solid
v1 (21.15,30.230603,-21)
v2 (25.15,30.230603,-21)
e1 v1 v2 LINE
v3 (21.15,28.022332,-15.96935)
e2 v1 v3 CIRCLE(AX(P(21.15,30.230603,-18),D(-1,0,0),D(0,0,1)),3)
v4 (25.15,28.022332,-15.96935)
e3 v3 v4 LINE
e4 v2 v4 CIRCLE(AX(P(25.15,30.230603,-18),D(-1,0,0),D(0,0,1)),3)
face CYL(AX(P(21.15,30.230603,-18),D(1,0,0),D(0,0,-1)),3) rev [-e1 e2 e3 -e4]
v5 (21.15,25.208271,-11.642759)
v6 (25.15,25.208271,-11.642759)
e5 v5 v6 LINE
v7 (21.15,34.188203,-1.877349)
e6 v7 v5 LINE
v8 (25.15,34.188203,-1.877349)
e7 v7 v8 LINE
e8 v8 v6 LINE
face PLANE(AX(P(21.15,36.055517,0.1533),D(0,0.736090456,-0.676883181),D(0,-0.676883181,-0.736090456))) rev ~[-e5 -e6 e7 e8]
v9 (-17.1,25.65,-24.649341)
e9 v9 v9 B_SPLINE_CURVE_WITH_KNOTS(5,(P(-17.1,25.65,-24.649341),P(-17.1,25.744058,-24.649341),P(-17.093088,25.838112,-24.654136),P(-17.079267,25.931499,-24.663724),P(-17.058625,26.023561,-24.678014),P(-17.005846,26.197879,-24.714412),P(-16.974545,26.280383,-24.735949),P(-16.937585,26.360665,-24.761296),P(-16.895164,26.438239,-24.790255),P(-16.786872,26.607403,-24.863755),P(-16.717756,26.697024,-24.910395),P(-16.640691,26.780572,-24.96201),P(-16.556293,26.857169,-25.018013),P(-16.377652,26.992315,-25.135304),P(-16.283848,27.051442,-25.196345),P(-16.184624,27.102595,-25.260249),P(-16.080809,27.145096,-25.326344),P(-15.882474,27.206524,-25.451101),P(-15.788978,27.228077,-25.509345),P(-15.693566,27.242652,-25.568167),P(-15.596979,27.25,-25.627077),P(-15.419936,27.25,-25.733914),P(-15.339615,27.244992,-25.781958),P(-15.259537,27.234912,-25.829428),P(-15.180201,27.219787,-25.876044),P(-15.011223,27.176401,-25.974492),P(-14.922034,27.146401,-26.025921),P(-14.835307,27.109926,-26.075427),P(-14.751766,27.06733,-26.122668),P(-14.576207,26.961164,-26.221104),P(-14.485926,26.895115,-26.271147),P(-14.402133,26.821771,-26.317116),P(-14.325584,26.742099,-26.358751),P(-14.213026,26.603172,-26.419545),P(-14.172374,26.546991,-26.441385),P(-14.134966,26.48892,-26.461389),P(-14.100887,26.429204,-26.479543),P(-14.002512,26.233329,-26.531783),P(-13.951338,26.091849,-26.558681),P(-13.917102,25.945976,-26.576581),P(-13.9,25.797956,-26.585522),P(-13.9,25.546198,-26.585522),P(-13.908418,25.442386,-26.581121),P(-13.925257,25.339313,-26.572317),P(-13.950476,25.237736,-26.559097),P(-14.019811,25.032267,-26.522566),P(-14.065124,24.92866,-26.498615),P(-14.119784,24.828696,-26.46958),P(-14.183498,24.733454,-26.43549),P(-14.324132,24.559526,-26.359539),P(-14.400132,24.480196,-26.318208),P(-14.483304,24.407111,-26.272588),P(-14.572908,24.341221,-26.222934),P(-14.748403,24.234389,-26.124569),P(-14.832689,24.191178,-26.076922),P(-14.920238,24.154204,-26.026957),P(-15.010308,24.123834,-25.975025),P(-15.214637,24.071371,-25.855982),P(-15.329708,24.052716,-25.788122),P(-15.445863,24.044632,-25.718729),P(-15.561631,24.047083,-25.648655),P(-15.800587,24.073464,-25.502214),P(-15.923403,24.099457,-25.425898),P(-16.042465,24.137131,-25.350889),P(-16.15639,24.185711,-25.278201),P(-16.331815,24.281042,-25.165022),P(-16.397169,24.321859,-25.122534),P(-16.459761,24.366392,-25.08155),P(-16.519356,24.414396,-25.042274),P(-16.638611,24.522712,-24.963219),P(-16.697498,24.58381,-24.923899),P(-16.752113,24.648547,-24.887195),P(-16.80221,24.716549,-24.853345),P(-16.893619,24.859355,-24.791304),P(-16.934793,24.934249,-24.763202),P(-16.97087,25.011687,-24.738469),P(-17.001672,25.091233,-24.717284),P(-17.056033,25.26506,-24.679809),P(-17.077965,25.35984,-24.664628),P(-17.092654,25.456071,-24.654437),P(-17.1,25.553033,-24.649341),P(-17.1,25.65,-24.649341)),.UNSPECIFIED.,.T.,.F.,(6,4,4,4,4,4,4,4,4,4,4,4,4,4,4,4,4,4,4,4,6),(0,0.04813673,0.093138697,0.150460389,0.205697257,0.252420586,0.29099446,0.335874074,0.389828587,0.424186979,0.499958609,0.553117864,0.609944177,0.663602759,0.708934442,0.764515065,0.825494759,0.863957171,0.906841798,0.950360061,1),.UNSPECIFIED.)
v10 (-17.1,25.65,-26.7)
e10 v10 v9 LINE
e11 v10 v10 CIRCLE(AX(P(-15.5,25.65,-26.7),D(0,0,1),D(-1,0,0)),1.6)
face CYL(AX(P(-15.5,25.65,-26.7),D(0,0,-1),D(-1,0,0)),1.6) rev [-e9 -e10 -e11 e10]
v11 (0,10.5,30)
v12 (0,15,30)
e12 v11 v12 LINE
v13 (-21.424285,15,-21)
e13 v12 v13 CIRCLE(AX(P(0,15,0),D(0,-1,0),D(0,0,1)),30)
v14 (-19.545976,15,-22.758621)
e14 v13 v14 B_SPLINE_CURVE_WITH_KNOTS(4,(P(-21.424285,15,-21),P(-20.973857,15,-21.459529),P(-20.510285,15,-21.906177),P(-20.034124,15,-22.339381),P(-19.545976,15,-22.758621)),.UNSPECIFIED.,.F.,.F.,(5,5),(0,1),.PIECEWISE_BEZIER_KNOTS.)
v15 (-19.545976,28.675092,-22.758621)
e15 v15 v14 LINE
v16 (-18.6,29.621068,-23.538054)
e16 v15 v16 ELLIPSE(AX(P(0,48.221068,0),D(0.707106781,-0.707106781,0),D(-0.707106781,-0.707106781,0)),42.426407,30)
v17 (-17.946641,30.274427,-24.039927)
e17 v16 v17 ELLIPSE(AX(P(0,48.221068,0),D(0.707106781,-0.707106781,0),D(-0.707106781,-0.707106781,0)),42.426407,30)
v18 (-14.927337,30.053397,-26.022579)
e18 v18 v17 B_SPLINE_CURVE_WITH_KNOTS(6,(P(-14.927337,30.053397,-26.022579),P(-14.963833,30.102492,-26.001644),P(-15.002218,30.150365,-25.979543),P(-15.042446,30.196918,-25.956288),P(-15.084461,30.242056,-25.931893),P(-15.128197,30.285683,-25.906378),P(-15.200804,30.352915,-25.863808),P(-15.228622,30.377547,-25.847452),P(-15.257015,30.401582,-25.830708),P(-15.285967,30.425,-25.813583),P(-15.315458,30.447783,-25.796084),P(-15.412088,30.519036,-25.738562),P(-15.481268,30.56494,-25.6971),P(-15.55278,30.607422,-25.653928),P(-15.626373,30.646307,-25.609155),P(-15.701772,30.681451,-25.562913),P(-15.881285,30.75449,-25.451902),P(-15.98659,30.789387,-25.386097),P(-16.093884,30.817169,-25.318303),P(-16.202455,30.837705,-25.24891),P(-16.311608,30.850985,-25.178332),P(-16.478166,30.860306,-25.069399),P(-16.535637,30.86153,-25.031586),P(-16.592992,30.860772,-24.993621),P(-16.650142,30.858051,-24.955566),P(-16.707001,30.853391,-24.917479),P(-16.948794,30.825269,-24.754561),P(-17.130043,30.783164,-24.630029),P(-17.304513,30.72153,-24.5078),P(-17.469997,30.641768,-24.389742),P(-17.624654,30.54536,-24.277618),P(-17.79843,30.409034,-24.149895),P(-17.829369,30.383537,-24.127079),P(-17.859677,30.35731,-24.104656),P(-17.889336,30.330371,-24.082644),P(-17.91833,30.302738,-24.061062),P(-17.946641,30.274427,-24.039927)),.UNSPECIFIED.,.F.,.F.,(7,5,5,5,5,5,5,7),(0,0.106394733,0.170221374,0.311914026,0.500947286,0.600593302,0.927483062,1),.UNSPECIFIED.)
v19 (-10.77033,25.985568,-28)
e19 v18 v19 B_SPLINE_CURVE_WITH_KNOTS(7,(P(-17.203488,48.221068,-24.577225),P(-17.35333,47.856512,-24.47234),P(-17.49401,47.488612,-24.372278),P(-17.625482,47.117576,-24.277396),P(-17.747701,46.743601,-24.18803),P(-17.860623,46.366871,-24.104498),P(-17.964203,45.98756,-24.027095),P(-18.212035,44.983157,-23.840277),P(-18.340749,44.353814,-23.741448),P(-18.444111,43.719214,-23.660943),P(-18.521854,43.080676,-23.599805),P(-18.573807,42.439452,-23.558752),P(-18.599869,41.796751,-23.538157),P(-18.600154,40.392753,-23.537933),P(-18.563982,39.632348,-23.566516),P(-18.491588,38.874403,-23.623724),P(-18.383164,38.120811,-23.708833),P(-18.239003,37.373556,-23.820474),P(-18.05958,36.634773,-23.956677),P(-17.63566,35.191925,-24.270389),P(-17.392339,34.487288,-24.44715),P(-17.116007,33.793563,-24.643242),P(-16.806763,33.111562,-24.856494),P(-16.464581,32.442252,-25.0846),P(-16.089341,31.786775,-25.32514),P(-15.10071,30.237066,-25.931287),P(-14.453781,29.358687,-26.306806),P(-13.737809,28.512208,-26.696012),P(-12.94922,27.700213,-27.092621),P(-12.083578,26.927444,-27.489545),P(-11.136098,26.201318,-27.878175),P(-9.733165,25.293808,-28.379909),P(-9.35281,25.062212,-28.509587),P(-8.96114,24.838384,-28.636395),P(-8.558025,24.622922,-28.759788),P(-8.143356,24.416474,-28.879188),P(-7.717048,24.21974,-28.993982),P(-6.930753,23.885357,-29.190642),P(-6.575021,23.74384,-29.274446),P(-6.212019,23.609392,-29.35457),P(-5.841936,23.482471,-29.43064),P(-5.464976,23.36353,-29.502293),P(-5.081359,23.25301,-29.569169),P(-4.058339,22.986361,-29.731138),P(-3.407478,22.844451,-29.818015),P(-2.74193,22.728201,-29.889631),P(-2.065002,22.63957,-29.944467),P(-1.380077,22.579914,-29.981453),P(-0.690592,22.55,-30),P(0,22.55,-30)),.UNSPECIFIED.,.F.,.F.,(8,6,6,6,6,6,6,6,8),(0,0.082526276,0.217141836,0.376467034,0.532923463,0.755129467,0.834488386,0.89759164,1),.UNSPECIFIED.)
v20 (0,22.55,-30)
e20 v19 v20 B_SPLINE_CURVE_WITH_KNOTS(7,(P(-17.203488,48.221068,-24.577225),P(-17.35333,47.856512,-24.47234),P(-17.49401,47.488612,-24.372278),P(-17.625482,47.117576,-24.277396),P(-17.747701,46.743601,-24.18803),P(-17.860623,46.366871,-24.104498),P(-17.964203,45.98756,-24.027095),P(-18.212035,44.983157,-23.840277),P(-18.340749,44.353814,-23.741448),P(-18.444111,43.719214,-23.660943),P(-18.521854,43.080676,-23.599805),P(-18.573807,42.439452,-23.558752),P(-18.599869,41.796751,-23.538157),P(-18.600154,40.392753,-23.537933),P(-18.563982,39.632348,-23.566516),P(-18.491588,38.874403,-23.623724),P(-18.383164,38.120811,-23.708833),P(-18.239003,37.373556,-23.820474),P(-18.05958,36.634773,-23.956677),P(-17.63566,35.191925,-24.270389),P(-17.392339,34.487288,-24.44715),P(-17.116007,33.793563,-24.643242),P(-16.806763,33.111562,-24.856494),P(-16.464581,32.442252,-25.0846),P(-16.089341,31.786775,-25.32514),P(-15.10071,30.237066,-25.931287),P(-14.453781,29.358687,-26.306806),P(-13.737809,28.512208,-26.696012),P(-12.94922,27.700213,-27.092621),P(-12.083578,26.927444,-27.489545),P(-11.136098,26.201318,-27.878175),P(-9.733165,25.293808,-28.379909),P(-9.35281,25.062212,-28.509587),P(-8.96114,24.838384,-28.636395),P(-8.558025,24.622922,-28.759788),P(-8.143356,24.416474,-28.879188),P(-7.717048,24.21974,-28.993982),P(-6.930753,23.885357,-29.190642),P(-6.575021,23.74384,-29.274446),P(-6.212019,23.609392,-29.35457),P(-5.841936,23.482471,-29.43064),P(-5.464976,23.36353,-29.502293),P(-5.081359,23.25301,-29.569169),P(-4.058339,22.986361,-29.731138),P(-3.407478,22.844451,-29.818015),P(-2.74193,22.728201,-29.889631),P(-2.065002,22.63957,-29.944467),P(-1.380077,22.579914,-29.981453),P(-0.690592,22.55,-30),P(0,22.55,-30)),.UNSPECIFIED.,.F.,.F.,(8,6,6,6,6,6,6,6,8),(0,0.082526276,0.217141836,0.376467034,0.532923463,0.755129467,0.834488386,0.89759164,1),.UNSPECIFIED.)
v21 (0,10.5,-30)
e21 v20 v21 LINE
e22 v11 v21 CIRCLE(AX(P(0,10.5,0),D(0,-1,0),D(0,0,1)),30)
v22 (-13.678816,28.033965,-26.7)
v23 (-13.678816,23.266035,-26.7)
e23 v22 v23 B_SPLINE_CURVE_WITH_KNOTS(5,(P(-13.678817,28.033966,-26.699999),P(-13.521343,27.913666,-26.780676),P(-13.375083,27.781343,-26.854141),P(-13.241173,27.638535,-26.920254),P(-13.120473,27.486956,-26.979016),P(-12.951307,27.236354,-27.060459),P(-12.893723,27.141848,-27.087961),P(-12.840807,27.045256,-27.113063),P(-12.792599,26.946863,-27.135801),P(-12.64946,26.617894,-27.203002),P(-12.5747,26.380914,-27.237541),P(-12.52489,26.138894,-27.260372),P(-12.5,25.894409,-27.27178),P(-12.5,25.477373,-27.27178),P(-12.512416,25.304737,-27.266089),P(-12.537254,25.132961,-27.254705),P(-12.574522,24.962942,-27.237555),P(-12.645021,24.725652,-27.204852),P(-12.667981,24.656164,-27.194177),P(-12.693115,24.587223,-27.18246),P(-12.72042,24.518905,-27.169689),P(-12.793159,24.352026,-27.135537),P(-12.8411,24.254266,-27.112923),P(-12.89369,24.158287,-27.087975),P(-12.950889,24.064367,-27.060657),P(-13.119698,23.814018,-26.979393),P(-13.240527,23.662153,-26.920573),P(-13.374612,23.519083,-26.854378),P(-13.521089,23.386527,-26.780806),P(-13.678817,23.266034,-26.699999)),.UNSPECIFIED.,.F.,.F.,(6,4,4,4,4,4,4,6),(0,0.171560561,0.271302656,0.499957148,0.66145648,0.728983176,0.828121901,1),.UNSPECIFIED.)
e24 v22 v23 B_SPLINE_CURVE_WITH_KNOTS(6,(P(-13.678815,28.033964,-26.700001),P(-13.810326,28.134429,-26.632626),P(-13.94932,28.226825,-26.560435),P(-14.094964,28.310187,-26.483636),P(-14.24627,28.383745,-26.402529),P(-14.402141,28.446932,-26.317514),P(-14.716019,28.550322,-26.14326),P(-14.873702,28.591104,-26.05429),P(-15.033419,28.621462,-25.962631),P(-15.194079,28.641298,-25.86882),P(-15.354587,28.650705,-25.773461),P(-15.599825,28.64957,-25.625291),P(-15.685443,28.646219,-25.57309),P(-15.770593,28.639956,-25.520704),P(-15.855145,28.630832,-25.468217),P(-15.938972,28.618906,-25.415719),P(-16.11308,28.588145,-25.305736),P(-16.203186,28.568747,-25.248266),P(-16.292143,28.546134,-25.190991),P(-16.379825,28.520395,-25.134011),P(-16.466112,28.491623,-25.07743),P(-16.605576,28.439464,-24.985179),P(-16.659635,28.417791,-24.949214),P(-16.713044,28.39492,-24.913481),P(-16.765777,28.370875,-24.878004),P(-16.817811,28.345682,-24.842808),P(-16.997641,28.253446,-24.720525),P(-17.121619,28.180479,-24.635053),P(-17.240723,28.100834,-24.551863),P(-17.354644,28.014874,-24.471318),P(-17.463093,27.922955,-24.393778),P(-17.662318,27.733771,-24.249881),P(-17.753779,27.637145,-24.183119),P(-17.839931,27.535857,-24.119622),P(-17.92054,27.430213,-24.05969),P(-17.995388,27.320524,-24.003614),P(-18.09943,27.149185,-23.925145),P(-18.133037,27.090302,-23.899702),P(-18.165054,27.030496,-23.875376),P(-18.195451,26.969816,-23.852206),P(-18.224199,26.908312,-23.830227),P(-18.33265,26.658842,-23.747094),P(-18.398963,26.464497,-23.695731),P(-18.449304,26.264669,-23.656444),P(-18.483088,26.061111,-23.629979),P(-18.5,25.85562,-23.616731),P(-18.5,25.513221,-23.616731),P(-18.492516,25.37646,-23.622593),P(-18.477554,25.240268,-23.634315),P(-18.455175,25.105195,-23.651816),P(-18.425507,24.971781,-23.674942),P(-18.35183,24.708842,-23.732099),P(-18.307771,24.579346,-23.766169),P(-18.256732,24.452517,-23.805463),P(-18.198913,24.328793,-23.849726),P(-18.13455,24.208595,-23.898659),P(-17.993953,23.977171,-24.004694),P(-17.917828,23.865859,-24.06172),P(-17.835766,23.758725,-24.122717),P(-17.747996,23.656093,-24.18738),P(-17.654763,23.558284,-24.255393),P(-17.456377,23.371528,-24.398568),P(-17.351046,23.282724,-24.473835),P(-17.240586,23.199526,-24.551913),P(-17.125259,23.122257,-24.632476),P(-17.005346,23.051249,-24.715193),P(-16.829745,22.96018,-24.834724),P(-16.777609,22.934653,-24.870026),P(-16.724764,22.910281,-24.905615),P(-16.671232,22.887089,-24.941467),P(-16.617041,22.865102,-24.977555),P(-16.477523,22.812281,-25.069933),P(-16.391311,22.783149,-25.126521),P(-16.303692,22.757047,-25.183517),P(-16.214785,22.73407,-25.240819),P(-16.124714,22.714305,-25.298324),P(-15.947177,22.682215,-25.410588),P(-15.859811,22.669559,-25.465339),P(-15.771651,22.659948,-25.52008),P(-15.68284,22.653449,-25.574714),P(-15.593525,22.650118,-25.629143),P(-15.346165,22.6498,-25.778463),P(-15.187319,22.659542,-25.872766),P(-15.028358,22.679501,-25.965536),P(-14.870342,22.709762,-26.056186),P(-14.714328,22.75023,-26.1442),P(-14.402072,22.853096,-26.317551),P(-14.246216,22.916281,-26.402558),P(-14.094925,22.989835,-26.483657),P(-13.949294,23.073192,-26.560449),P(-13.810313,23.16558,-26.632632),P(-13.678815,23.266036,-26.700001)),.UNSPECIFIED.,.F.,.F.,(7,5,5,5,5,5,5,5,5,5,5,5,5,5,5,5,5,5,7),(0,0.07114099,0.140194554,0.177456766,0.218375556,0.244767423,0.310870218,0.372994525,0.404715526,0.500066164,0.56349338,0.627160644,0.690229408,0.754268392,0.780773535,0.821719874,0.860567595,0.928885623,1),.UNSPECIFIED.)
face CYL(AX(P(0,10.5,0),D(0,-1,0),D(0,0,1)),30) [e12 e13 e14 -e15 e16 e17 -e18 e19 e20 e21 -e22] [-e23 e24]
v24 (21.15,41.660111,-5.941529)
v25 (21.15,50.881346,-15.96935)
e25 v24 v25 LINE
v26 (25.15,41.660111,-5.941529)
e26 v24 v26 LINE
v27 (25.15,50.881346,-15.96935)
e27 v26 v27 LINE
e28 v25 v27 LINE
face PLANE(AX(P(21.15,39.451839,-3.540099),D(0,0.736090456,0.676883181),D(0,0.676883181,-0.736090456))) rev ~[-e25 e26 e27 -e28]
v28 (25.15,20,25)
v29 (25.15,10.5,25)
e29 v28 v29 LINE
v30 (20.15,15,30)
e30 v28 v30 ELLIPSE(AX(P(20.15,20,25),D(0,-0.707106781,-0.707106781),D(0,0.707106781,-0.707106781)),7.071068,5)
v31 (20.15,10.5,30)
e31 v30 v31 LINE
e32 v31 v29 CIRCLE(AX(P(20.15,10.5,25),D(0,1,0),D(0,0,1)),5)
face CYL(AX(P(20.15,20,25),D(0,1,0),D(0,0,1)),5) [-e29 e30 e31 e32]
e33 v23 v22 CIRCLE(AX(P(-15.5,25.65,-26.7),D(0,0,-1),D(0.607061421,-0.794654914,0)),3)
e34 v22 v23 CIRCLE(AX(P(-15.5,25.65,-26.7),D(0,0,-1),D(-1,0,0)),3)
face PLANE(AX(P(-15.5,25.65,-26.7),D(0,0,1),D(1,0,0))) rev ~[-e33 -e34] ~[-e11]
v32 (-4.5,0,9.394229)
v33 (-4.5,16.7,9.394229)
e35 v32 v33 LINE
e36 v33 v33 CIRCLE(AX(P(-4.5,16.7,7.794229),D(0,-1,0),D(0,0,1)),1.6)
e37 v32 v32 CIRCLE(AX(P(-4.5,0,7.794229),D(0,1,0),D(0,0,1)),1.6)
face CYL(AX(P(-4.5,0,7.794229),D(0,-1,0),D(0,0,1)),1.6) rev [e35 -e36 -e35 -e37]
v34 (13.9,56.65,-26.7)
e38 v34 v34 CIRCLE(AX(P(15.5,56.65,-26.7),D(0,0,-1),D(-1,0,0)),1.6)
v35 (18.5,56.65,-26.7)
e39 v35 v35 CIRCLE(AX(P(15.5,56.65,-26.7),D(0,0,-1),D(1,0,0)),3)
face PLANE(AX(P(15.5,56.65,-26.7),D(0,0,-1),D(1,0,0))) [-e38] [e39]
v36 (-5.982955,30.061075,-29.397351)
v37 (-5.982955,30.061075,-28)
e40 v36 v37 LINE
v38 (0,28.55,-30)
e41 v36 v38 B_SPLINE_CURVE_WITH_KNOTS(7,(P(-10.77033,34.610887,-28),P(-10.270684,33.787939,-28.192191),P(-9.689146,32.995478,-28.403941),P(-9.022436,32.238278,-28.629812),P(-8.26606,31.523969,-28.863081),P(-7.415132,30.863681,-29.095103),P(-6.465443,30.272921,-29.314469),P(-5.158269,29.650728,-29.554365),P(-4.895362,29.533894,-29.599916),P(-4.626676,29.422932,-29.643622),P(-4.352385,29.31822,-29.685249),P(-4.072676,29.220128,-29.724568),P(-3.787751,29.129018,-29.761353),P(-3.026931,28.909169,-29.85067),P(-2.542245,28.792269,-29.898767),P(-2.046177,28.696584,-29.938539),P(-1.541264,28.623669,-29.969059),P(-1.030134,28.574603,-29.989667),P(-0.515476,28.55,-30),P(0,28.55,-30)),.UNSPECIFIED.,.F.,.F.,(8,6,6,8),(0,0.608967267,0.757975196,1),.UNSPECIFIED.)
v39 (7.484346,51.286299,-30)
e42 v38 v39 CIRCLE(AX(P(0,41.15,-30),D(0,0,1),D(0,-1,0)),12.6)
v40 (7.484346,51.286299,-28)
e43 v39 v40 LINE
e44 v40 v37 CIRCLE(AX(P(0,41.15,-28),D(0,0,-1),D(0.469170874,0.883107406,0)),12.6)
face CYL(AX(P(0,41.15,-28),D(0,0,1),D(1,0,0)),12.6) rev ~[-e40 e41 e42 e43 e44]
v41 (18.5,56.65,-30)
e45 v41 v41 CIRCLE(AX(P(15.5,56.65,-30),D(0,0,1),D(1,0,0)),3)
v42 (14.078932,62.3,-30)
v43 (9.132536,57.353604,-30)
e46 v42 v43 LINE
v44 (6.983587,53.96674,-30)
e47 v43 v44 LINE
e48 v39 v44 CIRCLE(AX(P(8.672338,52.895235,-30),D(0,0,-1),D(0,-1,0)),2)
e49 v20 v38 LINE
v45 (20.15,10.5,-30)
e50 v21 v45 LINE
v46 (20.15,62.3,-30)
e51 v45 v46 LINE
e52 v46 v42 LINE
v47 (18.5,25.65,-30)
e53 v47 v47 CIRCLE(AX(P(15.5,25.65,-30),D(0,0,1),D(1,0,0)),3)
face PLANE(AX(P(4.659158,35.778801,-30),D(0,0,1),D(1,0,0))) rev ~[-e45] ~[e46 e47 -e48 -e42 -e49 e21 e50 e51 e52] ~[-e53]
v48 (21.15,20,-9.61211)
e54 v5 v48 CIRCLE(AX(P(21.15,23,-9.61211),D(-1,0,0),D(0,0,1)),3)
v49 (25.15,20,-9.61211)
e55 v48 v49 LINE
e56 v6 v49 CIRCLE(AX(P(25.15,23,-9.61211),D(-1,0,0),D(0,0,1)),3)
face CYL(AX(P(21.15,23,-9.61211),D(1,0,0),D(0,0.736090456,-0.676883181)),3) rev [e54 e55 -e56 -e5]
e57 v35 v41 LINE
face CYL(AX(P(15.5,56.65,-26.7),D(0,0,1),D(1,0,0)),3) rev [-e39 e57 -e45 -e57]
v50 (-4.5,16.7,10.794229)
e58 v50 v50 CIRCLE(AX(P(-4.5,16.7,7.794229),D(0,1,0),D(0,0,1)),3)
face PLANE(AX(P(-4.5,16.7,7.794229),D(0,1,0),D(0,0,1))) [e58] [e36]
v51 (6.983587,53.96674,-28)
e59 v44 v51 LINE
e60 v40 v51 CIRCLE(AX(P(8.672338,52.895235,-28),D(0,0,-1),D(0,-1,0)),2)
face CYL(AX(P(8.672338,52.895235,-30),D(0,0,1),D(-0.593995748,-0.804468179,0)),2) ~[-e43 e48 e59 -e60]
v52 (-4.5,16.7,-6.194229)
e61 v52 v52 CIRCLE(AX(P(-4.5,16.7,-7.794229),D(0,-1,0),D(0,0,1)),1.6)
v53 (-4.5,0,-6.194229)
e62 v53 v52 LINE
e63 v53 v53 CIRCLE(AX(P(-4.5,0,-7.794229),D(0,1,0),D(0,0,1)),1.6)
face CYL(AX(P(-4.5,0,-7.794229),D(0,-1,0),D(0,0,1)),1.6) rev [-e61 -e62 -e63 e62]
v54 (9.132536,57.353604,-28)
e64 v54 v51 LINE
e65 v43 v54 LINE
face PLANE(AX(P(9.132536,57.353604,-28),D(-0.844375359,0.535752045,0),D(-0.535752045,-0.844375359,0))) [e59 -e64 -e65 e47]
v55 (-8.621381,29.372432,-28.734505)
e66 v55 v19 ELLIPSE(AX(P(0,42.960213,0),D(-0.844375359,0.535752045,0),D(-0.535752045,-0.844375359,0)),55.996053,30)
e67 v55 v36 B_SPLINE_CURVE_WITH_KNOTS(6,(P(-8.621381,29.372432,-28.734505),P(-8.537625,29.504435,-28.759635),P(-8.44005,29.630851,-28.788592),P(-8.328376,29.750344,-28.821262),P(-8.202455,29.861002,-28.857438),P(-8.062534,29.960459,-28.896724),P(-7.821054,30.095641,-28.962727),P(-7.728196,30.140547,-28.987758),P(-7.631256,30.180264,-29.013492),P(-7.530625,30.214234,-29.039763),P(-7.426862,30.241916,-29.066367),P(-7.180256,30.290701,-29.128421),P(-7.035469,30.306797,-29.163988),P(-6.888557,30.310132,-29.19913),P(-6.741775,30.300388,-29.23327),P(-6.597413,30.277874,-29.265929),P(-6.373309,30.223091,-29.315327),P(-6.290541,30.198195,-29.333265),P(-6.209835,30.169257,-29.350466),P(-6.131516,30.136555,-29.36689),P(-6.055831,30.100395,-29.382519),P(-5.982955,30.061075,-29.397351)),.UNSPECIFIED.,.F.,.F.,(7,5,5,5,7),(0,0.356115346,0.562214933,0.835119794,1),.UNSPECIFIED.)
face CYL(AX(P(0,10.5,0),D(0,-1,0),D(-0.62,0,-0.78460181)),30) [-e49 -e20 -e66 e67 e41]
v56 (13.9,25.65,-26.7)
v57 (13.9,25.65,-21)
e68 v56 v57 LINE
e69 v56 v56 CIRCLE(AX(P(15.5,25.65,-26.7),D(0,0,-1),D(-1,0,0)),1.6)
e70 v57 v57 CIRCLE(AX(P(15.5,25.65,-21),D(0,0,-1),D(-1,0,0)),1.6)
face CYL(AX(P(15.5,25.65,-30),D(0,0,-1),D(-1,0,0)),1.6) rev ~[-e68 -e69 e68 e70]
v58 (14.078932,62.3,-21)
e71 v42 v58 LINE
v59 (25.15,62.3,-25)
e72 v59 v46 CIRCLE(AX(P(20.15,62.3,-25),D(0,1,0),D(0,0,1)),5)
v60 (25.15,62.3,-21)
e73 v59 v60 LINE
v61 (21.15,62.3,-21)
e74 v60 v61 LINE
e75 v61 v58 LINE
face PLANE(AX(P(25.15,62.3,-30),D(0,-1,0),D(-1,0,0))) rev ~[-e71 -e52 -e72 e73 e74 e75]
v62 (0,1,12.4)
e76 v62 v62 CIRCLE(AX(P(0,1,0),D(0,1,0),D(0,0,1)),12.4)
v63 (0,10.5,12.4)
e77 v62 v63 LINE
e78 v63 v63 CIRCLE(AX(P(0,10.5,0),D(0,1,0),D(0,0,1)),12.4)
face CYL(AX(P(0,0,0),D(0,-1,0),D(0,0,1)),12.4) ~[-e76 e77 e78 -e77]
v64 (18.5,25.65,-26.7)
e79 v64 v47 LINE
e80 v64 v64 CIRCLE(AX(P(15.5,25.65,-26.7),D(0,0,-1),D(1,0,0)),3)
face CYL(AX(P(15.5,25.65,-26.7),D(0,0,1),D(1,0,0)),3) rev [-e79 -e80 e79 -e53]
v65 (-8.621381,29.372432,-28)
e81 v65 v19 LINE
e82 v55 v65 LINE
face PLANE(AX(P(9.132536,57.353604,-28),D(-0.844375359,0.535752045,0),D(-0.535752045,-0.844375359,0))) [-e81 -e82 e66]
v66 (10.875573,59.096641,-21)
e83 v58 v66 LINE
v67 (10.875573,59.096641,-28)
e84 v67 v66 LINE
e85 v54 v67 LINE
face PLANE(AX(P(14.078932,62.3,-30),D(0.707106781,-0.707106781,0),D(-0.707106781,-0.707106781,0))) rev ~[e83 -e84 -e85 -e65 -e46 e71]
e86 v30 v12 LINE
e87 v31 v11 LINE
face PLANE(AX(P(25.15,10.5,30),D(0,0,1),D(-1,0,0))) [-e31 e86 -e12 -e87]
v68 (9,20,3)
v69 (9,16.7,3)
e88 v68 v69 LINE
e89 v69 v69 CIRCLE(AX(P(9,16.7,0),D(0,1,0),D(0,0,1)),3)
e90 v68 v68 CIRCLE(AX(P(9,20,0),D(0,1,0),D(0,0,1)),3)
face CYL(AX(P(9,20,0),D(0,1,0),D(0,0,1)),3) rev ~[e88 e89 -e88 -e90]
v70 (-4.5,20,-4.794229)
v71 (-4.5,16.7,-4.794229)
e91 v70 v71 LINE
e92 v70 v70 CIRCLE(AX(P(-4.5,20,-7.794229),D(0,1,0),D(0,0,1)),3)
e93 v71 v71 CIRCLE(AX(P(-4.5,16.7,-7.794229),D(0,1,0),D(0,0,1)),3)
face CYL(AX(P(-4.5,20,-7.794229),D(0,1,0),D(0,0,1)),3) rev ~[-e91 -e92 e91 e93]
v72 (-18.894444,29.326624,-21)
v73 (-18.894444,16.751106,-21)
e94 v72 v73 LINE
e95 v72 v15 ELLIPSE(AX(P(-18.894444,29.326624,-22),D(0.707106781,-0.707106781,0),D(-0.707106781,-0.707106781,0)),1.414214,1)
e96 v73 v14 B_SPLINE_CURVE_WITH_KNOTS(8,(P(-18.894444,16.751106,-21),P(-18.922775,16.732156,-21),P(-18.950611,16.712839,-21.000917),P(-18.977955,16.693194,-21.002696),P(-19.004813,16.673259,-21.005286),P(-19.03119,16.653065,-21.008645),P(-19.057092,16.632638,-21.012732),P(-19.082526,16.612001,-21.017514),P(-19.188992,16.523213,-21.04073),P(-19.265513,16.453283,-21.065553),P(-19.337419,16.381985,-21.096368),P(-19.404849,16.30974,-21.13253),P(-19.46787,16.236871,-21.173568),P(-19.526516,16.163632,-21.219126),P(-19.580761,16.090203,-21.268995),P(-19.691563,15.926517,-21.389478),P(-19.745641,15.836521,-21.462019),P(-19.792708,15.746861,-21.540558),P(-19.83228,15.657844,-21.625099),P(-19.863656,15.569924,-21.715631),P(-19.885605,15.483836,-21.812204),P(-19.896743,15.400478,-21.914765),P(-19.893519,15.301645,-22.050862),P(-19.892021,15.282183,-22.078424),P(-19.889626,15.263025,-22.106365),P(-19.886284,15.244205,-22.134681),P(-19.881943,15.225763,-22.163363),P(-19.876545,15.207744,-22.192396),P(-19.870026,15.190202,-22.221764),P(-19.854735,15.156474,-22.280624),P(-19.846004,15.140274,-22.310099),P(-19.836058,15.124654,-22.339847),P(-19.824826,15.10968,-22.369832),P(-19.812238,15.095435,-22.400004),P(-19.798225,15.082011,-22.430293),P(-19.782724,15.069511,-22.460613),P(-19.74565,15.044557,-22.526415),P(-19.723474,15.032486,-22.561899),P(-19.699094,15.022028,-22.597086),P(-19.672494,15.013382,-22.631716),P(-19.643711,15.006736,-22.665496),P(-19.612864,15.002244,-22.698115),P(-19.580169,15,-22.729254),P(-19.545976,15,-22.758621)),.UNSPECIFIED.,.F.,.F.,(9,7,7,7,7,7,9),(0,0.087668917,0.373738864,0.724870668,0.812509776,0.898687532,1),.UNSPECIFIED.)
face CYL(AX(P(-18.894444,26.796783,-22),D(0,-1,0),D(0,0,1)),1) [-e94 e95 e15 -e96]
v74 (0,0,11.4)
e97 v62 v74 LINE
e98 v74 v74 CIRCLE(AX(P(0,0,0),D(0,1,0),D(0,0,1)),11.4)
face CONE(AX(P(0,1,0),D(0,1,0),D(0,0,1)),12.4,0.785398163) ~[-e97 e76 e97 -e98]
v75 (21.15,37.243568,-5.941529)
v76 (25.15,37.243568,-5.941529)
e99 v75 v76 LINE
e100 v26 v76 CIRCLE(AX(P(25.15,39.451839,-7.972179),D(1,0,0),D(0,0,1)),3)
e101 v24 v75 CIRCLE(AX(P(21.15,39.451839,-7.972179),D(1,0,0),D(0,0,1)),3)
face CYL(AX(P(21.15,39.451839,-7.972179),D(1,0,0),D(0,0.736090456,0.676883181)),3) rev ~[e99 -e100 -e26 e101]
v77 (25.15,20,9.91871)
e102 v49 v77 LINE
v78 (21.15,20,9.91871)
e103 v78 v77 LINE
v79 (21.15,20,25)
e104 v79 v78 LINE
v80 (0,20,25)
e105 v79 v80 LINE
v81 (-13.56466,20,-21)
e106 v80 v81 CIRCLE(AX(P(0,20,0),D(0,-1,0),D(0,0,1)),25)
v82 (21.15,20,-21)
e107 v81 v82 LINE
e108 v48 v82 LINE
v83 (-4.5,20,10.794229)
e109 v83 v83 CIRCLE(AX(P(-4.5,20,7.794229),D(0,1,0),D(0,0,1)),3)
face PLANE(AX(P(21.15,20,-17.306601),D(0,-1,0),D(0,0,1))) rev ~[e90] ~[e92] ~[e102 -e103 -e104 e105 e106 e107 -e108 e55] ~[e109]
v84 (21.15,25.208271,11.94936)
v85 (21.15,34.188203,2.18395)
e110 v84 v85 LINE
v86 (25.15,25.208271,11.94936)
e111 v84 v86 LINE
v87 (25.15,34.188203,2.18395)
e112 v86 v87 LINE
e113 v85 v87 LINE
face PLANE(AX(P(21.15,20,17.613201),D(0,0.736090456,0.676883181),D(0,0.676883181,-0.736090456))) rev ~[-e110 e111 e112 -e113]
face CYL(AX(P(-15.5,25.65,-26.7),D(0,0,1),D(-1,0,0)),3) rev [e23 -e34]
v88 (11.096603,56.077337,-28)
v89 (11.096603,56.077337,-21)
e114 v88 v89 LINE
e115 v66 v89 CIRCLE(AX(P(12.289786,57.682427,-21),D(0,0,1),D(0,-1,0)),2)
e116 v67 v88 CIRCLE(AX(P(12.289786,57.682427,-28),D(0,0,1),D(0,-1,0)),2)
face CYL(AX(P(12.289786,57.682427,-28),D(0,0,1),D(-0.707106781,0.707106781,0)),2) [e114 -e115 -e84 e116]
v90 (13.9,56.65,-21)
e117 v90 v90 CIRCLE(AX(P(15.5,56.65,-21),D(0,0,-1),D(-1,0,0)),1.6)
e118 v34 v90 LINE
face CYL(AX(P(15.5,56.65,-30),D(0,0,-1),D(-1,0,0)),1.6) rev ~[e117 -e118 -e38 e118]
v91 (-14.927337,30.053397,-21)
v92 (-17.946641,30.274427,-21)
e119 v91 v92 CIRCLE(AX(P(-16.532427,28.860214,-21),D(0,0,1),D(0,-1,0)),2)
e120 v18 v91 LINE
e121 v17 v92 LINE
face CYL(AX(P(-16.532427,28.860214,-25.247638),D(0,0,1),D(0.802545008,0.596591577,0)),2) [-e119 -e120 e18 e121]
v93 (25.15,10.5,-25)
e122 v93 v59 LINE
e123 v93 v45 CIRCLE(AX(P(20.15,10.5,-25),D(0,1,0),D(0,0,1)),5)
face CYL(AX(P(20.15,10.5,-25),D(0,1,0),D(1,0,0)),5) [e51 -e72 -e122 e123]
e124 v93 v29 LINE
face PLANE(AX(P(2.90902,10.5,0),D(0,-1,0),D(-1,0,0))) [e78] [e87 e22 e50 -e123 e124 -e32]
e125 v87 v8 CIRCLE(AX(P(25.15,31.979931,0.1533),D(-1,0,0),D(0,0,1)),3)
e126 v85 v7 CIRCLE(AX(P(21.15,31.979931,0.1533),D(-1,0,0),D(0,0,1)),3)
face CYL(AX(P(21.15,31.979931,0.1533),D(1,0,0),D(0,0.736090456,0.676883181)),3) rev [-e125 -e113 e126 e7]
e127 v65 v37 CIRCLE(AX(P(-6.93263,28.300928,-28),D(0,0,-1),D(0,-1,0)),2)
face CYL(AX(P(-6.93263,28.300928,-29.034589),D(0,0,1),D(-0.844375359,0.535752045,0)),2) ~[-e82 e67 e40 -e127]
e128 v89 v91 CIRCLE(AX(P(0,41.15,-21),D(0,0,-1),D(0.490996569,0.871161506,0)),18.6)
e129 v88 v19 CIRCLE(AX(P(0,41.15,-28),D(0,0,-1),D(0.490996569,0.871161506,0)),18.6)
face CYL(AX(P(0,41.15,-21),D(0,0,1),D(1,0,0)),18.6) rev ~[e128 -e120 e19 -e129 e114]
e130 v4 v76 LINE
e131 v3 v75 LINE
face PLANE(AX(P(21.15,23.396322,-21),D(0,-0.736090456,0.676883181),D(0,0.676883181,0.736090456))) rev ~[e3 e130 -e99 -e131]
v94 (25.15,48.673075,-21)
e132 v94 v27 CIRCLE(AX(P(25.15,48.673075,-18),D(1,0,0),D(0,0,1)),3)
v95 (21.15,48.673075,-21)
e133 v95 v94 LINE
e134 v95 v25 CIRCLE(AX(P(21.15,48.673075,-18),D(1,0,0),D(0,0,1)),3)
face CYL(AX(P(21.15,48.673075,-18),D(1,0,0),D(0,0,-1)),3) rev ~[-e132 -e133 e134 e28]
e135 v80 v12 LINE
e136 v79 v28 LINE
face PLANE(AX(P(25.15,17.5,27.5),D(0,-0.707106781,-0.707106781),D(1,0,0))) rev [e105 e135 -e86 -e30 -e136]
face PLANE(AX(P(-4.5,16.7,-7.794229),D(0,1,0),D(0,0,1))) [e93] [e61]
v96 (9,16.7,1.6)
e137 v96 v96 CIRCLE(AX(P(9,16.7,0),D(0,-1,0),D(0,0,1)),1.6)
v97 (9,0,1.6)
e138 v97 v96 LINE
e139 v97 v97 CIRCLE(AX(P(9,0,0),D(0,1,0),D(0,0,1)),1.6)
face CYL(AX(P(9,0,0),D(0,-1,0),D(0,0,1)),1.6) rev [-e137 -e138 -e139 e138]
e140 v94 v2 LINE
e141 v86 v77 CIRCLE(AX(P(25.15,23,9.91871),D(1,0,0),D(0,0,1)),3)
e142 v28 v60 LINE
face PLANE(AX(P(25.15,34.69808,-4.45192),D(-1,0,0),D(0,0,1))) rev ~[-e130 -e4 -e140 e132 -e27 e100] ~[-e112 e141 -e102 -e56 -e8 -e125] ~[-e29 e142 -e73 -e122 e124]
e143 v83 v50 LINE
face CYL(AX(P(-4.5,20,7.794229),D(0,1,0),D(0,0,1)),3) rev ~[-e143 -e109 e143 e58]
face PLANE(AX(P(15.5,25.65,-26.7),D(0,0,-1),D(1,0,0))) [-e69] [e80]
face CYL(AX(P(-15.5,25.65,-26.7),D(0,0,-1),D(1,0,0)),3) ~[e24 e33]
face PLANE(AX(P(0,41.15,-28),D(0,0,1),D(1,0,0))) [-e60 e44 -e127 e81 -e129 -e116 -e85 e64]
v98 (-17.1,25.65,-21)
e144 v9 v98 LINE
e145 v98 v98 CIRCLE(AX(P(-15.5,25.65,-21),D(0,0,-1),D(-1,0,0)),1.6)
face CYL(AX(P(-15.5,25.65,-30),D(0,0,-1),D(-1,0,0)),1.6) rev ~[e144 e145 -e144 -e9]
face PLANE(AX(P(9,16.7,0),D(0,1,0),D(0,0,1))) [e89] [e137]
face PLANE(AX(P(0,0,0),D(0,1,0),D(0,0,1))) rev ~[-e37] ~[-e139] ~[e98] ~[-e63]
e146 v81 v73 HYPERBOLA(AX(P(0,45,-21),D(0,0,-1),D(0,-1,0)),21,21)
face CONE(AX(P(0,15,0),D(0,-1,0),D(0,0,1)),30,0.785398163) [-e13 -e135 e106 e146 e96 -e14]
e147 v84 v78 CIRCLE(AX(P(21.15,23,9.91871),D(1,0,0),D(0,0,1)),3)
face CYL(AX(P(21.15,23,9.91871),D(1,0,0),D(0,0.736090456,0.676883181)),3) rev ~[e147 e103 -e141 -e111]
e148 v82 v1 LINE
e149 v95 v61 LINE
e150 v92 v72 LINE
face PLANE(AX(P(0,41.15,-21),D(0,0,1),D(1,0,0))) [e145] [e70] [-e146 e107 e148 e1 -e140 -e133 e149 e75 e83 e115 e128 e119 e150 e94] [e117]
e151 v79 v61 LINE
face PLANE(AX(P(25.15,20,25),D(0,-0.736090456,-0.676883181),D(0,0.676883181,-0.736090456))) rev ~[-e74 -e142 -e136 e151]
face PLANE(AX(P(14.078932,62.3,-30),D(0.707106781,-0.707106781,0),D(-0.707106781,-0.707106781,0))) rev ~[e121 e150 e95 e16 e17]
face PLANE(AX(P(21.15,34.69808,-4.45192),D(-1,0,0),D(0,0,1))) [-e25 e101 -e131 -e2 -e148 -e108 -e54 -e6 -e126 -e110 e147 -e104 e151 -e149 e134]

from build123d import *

# Parameters (mm, degrees)
SKETCH_1_R               = 12.4
SKETCH_1_R_2             = 1.5999999999999976
SKETCH_1_R_3             = 1.5999999999999506
SKETCH_1_R_4             = 1.6
EXTRUDE_1_DEPTH          = 20
EXTRUDE_START            = -9.5
SKETCH_2_R               = 12.4
EXTRUDE_2_DEPTH          = 9.5
SKETCH_4_R               = 2.999999999999999
SKETCH_4_R_2             = 3.0000000000000004
SKETCH_4_R_3             = 3
CUT_EXTRUDE_1_DEPTH      = 3.3
SKETCH_5_R               = 1.6
SKETCH_5_R_2             = 1.5999999999999956
SKETCH_5_R_3             = 1.6000000000000036
EXTRUDE_3_DEPTH          = 9
EXTRUDE_4_DEPTH          = 4
CUT_EXTRUDE_2_DEPTH      = 60.910683521388734
CUT_EXTRUDE_3_DEPTH      = 92.54938567789519
CUT_EXTRUDE_3_DEPTH_BACK = 3.3
SKETCH_8_R               = 2.9999999999999982
SKETCH_8_R_2             = 2.9999999999999973
CHAMFER_1_SIZE           = 5
EXTRUDE_7_REACH          = 87.92
SKETCH_9_R               = 18.6
CUT_EXTRUDE_7_DEPTH      = 67.95700121719909
EXTRUDE_START_2          = -5.7
SKETCH_18_R              = 2.999999999999999
SKETCH_18_R_2            = 1.6000000000000036
EXTRUDE_8_DEPTH          = 5.7
SKETCH_19_R              = 2.999999999999999
CUT_EXTRUDE_8_DEPTH      = 90.42136219796699
SKETCH_20_R              = 18.6
CUT_EXTRUDE_9_DEPTH      = 7
CUT_EXTRUDE_10_DEPTH     = 7
FILLET_2_R               = 2
SKETCH_22_R              = 12.600000000000001
CUT_EXTRUDE_11_DEPTH     = 7
FILLET_3_R               = 2
CUT_EXTRUDE_12_DEPTH     = 87.00937458341387
FILLET_4_R               = 3
CUT_EXTRUDE_13_DEPTH     = 60.91068362153782
FILLET_5_R               = 1
FILLET_6_R               = 5
CHAMFER_2_SIZE           = 1


with BuildPart() as part:
    # 草图1 → 凸台-拉伸1 (new body)
    with BuildSketch(Plane(origin=(0, 0, 0), x_dir=(1, 0, 0), z_dir=(0, 1, 0))):
        with Locations(Location((0, 0, 0), (0, 0, 270))):
            Circle(SKETCH_1_R)
        with Locations(Location((9.000000000000002, 2.1e-15, 0), (0, 0, 270))):
            Circle(SKETCH_1_R_2, mode=Mode.SUBTRACT)
        with Locations(Location((-4.500000000000038, -7.794228634059926, 0), (0, 0, 270))):
            Circle(SKETCH_1_R_3, mode=Mode.SUBTRACT)
        with Locations(Location((-4.499999999999964, 7.794228634060018, 0), (0, 0, 270))):
            Circle(SKETCH_1_R_4, mode=Mode.SUBTRACT)
    extrude(amount=EXTRUDE_1_DEPTH)

    # 草图2 → 凸台-拉伸2 (add)
    with BuildSketch(Plane(origin=(0, 20, 0), x_dir=(1, 0, 0), z_dir=(0, 1, 0)).offset(EXTRUDE_START)):
        with BuildLine():
            Line((0, 30), (25.15, 30))
            Line((25.15, 30), (25.15, -30))
            Line((25.15, -30), (0, -30))
            ThreePointArc((0, -30), (-30, 3.67e-15), (0, 30))
        make_face()
        with Locations(Location((0, 0, 0), (0, 0, 270))):
            Circle(SKETCH_2_R, mode=Mode.SUBTRACT)
    extrude(amount=EXTRUDE_2_DEPTH)

    # 草图4 → 切除-拉伸1 (cut)
    with BuildSketch(Plane(origin=(0, 20, 0), x_dir=(1, 0, 0), z_dir=(0, 1, 0))):
        with Locations(Location((9.000000000000002, 2.1e-15, 0), (0, 0, 270))):
            Circle(SKETCH_4_R)
        with Locations(Location((-4.499999999999964, 7.794228634060018, 0), (0, 0, 270))):
            Circle(SKETCH_4_R_2)
        with Locations(Location((-4.500000000000038, -7.794228634059926, 0), (0, 0, 270))):
            Circle(SKETCH_4_R_3)
    extrude(amount=-CUT_EXTRUDE_1_DEPTH, mode=Mode.SUBTRACT)

    # 草图5 → 凸台-拉伸3 (add)
    with BuildSketch(Plane(origin=(0, 0, -30), x_dir=(-1, 0, -1.7e-16), z_dir=(1.7e-16, 0, -1))):
        Polygon((-25.15, 20), (-25.15, 62.3), (-14.078932188134525, 62.3), (28.22106781186546, 20), align=None)
        with Locations((-15.500000000000005, 25.649999999999995)):
            Circle(SKETCH_5_R, mode=Mode.SUBTRACT)
        with Locations((-15.499999999999998, 56.64999999999999)):
            Circle(SKETCH_5_R_2, mode=Mode.SUBTRACT)
        with Locations((15.499999999999995, 25.64999999999999)):
            Circle(SKETCH_5_R_3, mode=Mode.SUBTRACT)
    extrude(amount=-EXTRUDE_3_DEPTH)

    # 草图6 → 凸台-拉伸4 (add)
    with BuildSketch(Plane(origin=(25.15, 0, 0), x_dir=(0, 0, -1), z_dir=(1, 0, 0))):
        Polygon((-24.999999999999996, 19.999999999999996), (20.999999999999996, 62.3), (20.999999999999996, 20), align=None)
    extrude(amount=-EXTRUDE_4_DEPTH)

    # 草图7 → 切除-拉伸2 (cut, through all)
    with BuildSketch(Plane.XZ.offset(-20)):
        with BuildLine():
            Line((-28.22106781186546, -30.000000000000004), (3.9e-15, -30))
            ThreePointArc((3.9e-15, -30), (-11.618950038622252, -27.65863337187866), (-21.42428528562855, -21))
            Line((-21.42428528562855, -21), (-28.22106781186546, -21.000000000000004))
            Line((-28.22106781186546, -21.000000000000004), (-28.22106781186546, -30.000000000000004))
        make_face()
    extrude(amount=-CUT_EXTRUDE_2_DEPTH, mode=Mode.SUBTRACT)

    # 草图8 → 切除-拉伸3 (cut, two sides: drawn at the far end of the back side and taken through both)
    with BuildSketch(Plane(origin=(0, 0, -30), x_dir=(-1, 0, -1.7e-16), z_dir=(1.7e-16, 0, -1)).offset(-CUT_EXTRUDE_3_DEPTH_BACK)):
        with Locations(Location((-15.499999999999998, 56.64999999999999, 0), (0, 0, 180))):
            Circle(SKETCH_8_R)
        with Locations(Location((-15.500000000000005, 25.649999999999995, 0), (0, 0, 180))):
            Circle(SKETCH_8_R_2)
    extrude(amount=CUT_EXTRUDE_3_DEPTH + CUT_EXTRUDE_3_DEPTH_BACK, mode=Mode.SUBTRACT)

    # 倒角1
    chamfer_1_edges = [part.edges().sort_by_distance(p)[0] for p in [
        (12.575, 20, 30),
        (-27.65863337187878, 20, 11.618950038621964),
    ]]
    chamfer(chamfer_1_edges, length=CHAMFER_1_SIZE)

    # 凸台-拉伸7: up to this face of the body (flat: up to its plane)
    extrude_7_end = Plane(part.part.faces().sort_by_distance((13.111797909, 34.333599445, -30))[0])
    # 草图9 → 凸台-拉伸7 (add, up to the picked face)
    with BuildSketch(Plane.XY.offset(-20.999999999999996), mode=Mode.PRIVATE) as extrude_7_sk1:
        with Locations((-1.73e-15, 41.14999999999999)):
            Circle(SKETCH_9_R)
    extrude_7_tool1 = split(extrude(extrude_7_sk1.sketch, amount=-EXTRUDE_7_REACH, mode=Mode.PRIVATE), bisect_by=extrude_7_end, keep=Keep.BOTH, mode=Mode.PRIVATE)
    add(extrude_7_tool1.solids().sort_by(Axis((0, 41.15, -21), (0, 0, -1)))[0])

    # 草图17 → 切除-拉伸7 (cut, through all)
    with BuildSketch(Plane.XZ.offset(-10.5)):
        with BuildLine():
            Line((0, -30), (-18.6, -30))
            Line((-18.6, -30), (-18.6, -23.538054295119636))
            ThreePointArc((-18.6, -23.538054295119636), (-9.845262087583318, -28.338504096490247), (0, -30))
        make_face()
    extrude(amount=-CUT_EXTRUDE_7_DEPTH, mode=Mode.SUBTRACT)

    # 草图18 → 凸台-拉伸8 (add)
    with BuildSketch(Plane.XY.offset(-20.999999999999996).offset(EXTRUDE_START_2)):
        with Locations((-15.5, 25.64999999999999)):
            Circle(SKETCH_18_R)
        with Locations(Location((-15.5, 25.64999999999999, 0), (0, 0, 180))):
            Circle(SKETCH_18_R_2, mode=Mode.SUBTRACT)
    extrude(amount=EXTRUDE_8_DEPTH)

    # 草图19 → 切除-拉伸8 (cut, through all)
    with BuildSketch(Plane(origin=(4.63e-15, 0, -26.7), x_dir=(-1, 0, -1.7e-16), z_dir=(1.7e-16, 0, -1))):
        with Locations((15.500000000000002, 25.64999999999999)):
            Circle(SKETCH_19_R)
    extrude(amount=CUT_EXTRUDE_8_DEPTH, mode=Mode.SUBTRACT)

    # 草图20 → 切除-拉伸9 (cut)
    with BuildSketch(Plane.XY.offset(-20.999999999999996)):
        with Locations((-1.73e-15, 41.14999999999999)):
            Circle(SKETCH_20_R)
    extrude(amount=-CUT_EXTRUDE_9_DEPTH, mode=Mode.SUBTRACT)

    # 草图21 → 切除-拉伸10 (cut)
    with BuildSketch(Plane.XY.offset(-27.999999999999996)):
        with BuildLine():
            Line((9.132536191757762, 57.353604003623225), (-10.770329614269013, 25.985567930186104))
            Line((-10.770329614269013, 25.985567930186104), (-10.770329614269013, 56.31443206981388))
            ThreePointArc((-10.770329614269013, 56.31443206981388), (-0.9698254485780136, 59.72469888313914), (9.132536191757762, 57.353604003623225))
        make_face()
    extrude(amount=-CUT_EXTRUDE_10_DEPTH, mode=Mode.SUBTRACT)

    # 圆角2
    fillet_2_edges = [part.edges().sort_by_distance(p)[0] for p in [
        (9.132536191757753, 57.353604003623225, -24.499999999999996),
        (-16.203604003623234, 32.01746380824223, -23.123818927861777),
    ]]
    fillet(fillet_2_edges, radius=FILLET_2_R)

    # 草图22 → 切除-拉伸11 (cut)
    with BuildSketch(Plane.XY.offset(-27.999999999999996)):
        with Locations((1e-15, 41.14999999999999)):
            Circle(SKETCH_22_R)
    extrude(amount=-CUT_EXTRUDE_11_DEPTH, mode=Mode.SUBTRACT)

    # 圆角3
    fillet_3_edges = [part.edges().sort_by_distance(p)[0] for p in [
        (5.91155300792769, 52.27715332124353, -29),
        (-7.549346430438945, 31.062018612565794, -28.51729458674393),
    ]]
    fillet(fillet_3_edges, radius=FILLET_3_R)

    # 草图23 → 切除-拉伸12 (cut, through all)
    with BuildSketch(Plane.ZY.offset(-21.15)):
        Polygon((-3.5400992489435197, 39.45183914325861), (-21.000000000000007, 55.50735657303446), (-21.000000000000004, 23.396321713482756), align=None)
        Polygon((17.613201001408648, 20), (0.1533002503521459, 36.05551742977586), (-17.306600500704334, 20), align=None)
    extrude(amount=-CUT_EXTRUDE_12_DEPTH, mode=Mode.SUBTRACT)

    # 圆角4
    fillet_4_edges = [part.edges().sort_by_distance(p)[0] for p in [
        (23.15, 20, -17.306600500704334),
        (23.15, 36.05551742977586, 0.15330025035214767),
        (23.15, 20, 17.613201001408648),
        (23.15, 23.396321713482756, -21.000000000000004),
        (23.15, 55.50735657303446, -21.000000000000007),
        (23.15, 39.45183914325861, -3.540099248943516),
    ]]
    fillet(fillet_4_edges, radius=FILLET_4_R)

    # 草图24 → 切除-拉伸13 (cut, through all)
    with BuildSketch(Plane(origin=(0, 20, 0), x_dir=(1, 0, 0), z_dir=(0, 1, 0))):
        with BuildLine():
            Line((25.15, -24.999999999999996), (25.15, -30))
            Line((25.15, -30), (20.15, -30))
            ThreePointArc((20.15, -30), (23.685533905932736, -28.535533905932734), (25.15, -24.999999999999996))
        make_face()
    extrude(amount=-CUT_EXTRUDE_13_DEPTH, mode=Mode.SUBTRACT)

    # 圆角5
    fillet_5_edges = [part.edges().sort_by_distance(p)[0] for p in [
        (-21.42428528562855, 20.898391263118448, -21.000000000000007),
    ]]
    fillet(fillet_5_edges, radius=FILLET_5_R)

    # 圆角6
    fillet_6_edges = [part.edges().sort_by_distance(p)[0] for p in [
        (25.15, 36.4, -29.999999999999996),
    ]]
    fillet(fillet_6_edges, radius=FILLET_6_R)

    # 倒角2
    chamfer_2_edges = [part.edges().sort_by_distance(p)[0] for p in [
        (3.8e-15, 0, -12.4),
    ]]
    chamfer(chamfer_2_edges, length=CHAMFER_2_SIZE)


solid = part.part
